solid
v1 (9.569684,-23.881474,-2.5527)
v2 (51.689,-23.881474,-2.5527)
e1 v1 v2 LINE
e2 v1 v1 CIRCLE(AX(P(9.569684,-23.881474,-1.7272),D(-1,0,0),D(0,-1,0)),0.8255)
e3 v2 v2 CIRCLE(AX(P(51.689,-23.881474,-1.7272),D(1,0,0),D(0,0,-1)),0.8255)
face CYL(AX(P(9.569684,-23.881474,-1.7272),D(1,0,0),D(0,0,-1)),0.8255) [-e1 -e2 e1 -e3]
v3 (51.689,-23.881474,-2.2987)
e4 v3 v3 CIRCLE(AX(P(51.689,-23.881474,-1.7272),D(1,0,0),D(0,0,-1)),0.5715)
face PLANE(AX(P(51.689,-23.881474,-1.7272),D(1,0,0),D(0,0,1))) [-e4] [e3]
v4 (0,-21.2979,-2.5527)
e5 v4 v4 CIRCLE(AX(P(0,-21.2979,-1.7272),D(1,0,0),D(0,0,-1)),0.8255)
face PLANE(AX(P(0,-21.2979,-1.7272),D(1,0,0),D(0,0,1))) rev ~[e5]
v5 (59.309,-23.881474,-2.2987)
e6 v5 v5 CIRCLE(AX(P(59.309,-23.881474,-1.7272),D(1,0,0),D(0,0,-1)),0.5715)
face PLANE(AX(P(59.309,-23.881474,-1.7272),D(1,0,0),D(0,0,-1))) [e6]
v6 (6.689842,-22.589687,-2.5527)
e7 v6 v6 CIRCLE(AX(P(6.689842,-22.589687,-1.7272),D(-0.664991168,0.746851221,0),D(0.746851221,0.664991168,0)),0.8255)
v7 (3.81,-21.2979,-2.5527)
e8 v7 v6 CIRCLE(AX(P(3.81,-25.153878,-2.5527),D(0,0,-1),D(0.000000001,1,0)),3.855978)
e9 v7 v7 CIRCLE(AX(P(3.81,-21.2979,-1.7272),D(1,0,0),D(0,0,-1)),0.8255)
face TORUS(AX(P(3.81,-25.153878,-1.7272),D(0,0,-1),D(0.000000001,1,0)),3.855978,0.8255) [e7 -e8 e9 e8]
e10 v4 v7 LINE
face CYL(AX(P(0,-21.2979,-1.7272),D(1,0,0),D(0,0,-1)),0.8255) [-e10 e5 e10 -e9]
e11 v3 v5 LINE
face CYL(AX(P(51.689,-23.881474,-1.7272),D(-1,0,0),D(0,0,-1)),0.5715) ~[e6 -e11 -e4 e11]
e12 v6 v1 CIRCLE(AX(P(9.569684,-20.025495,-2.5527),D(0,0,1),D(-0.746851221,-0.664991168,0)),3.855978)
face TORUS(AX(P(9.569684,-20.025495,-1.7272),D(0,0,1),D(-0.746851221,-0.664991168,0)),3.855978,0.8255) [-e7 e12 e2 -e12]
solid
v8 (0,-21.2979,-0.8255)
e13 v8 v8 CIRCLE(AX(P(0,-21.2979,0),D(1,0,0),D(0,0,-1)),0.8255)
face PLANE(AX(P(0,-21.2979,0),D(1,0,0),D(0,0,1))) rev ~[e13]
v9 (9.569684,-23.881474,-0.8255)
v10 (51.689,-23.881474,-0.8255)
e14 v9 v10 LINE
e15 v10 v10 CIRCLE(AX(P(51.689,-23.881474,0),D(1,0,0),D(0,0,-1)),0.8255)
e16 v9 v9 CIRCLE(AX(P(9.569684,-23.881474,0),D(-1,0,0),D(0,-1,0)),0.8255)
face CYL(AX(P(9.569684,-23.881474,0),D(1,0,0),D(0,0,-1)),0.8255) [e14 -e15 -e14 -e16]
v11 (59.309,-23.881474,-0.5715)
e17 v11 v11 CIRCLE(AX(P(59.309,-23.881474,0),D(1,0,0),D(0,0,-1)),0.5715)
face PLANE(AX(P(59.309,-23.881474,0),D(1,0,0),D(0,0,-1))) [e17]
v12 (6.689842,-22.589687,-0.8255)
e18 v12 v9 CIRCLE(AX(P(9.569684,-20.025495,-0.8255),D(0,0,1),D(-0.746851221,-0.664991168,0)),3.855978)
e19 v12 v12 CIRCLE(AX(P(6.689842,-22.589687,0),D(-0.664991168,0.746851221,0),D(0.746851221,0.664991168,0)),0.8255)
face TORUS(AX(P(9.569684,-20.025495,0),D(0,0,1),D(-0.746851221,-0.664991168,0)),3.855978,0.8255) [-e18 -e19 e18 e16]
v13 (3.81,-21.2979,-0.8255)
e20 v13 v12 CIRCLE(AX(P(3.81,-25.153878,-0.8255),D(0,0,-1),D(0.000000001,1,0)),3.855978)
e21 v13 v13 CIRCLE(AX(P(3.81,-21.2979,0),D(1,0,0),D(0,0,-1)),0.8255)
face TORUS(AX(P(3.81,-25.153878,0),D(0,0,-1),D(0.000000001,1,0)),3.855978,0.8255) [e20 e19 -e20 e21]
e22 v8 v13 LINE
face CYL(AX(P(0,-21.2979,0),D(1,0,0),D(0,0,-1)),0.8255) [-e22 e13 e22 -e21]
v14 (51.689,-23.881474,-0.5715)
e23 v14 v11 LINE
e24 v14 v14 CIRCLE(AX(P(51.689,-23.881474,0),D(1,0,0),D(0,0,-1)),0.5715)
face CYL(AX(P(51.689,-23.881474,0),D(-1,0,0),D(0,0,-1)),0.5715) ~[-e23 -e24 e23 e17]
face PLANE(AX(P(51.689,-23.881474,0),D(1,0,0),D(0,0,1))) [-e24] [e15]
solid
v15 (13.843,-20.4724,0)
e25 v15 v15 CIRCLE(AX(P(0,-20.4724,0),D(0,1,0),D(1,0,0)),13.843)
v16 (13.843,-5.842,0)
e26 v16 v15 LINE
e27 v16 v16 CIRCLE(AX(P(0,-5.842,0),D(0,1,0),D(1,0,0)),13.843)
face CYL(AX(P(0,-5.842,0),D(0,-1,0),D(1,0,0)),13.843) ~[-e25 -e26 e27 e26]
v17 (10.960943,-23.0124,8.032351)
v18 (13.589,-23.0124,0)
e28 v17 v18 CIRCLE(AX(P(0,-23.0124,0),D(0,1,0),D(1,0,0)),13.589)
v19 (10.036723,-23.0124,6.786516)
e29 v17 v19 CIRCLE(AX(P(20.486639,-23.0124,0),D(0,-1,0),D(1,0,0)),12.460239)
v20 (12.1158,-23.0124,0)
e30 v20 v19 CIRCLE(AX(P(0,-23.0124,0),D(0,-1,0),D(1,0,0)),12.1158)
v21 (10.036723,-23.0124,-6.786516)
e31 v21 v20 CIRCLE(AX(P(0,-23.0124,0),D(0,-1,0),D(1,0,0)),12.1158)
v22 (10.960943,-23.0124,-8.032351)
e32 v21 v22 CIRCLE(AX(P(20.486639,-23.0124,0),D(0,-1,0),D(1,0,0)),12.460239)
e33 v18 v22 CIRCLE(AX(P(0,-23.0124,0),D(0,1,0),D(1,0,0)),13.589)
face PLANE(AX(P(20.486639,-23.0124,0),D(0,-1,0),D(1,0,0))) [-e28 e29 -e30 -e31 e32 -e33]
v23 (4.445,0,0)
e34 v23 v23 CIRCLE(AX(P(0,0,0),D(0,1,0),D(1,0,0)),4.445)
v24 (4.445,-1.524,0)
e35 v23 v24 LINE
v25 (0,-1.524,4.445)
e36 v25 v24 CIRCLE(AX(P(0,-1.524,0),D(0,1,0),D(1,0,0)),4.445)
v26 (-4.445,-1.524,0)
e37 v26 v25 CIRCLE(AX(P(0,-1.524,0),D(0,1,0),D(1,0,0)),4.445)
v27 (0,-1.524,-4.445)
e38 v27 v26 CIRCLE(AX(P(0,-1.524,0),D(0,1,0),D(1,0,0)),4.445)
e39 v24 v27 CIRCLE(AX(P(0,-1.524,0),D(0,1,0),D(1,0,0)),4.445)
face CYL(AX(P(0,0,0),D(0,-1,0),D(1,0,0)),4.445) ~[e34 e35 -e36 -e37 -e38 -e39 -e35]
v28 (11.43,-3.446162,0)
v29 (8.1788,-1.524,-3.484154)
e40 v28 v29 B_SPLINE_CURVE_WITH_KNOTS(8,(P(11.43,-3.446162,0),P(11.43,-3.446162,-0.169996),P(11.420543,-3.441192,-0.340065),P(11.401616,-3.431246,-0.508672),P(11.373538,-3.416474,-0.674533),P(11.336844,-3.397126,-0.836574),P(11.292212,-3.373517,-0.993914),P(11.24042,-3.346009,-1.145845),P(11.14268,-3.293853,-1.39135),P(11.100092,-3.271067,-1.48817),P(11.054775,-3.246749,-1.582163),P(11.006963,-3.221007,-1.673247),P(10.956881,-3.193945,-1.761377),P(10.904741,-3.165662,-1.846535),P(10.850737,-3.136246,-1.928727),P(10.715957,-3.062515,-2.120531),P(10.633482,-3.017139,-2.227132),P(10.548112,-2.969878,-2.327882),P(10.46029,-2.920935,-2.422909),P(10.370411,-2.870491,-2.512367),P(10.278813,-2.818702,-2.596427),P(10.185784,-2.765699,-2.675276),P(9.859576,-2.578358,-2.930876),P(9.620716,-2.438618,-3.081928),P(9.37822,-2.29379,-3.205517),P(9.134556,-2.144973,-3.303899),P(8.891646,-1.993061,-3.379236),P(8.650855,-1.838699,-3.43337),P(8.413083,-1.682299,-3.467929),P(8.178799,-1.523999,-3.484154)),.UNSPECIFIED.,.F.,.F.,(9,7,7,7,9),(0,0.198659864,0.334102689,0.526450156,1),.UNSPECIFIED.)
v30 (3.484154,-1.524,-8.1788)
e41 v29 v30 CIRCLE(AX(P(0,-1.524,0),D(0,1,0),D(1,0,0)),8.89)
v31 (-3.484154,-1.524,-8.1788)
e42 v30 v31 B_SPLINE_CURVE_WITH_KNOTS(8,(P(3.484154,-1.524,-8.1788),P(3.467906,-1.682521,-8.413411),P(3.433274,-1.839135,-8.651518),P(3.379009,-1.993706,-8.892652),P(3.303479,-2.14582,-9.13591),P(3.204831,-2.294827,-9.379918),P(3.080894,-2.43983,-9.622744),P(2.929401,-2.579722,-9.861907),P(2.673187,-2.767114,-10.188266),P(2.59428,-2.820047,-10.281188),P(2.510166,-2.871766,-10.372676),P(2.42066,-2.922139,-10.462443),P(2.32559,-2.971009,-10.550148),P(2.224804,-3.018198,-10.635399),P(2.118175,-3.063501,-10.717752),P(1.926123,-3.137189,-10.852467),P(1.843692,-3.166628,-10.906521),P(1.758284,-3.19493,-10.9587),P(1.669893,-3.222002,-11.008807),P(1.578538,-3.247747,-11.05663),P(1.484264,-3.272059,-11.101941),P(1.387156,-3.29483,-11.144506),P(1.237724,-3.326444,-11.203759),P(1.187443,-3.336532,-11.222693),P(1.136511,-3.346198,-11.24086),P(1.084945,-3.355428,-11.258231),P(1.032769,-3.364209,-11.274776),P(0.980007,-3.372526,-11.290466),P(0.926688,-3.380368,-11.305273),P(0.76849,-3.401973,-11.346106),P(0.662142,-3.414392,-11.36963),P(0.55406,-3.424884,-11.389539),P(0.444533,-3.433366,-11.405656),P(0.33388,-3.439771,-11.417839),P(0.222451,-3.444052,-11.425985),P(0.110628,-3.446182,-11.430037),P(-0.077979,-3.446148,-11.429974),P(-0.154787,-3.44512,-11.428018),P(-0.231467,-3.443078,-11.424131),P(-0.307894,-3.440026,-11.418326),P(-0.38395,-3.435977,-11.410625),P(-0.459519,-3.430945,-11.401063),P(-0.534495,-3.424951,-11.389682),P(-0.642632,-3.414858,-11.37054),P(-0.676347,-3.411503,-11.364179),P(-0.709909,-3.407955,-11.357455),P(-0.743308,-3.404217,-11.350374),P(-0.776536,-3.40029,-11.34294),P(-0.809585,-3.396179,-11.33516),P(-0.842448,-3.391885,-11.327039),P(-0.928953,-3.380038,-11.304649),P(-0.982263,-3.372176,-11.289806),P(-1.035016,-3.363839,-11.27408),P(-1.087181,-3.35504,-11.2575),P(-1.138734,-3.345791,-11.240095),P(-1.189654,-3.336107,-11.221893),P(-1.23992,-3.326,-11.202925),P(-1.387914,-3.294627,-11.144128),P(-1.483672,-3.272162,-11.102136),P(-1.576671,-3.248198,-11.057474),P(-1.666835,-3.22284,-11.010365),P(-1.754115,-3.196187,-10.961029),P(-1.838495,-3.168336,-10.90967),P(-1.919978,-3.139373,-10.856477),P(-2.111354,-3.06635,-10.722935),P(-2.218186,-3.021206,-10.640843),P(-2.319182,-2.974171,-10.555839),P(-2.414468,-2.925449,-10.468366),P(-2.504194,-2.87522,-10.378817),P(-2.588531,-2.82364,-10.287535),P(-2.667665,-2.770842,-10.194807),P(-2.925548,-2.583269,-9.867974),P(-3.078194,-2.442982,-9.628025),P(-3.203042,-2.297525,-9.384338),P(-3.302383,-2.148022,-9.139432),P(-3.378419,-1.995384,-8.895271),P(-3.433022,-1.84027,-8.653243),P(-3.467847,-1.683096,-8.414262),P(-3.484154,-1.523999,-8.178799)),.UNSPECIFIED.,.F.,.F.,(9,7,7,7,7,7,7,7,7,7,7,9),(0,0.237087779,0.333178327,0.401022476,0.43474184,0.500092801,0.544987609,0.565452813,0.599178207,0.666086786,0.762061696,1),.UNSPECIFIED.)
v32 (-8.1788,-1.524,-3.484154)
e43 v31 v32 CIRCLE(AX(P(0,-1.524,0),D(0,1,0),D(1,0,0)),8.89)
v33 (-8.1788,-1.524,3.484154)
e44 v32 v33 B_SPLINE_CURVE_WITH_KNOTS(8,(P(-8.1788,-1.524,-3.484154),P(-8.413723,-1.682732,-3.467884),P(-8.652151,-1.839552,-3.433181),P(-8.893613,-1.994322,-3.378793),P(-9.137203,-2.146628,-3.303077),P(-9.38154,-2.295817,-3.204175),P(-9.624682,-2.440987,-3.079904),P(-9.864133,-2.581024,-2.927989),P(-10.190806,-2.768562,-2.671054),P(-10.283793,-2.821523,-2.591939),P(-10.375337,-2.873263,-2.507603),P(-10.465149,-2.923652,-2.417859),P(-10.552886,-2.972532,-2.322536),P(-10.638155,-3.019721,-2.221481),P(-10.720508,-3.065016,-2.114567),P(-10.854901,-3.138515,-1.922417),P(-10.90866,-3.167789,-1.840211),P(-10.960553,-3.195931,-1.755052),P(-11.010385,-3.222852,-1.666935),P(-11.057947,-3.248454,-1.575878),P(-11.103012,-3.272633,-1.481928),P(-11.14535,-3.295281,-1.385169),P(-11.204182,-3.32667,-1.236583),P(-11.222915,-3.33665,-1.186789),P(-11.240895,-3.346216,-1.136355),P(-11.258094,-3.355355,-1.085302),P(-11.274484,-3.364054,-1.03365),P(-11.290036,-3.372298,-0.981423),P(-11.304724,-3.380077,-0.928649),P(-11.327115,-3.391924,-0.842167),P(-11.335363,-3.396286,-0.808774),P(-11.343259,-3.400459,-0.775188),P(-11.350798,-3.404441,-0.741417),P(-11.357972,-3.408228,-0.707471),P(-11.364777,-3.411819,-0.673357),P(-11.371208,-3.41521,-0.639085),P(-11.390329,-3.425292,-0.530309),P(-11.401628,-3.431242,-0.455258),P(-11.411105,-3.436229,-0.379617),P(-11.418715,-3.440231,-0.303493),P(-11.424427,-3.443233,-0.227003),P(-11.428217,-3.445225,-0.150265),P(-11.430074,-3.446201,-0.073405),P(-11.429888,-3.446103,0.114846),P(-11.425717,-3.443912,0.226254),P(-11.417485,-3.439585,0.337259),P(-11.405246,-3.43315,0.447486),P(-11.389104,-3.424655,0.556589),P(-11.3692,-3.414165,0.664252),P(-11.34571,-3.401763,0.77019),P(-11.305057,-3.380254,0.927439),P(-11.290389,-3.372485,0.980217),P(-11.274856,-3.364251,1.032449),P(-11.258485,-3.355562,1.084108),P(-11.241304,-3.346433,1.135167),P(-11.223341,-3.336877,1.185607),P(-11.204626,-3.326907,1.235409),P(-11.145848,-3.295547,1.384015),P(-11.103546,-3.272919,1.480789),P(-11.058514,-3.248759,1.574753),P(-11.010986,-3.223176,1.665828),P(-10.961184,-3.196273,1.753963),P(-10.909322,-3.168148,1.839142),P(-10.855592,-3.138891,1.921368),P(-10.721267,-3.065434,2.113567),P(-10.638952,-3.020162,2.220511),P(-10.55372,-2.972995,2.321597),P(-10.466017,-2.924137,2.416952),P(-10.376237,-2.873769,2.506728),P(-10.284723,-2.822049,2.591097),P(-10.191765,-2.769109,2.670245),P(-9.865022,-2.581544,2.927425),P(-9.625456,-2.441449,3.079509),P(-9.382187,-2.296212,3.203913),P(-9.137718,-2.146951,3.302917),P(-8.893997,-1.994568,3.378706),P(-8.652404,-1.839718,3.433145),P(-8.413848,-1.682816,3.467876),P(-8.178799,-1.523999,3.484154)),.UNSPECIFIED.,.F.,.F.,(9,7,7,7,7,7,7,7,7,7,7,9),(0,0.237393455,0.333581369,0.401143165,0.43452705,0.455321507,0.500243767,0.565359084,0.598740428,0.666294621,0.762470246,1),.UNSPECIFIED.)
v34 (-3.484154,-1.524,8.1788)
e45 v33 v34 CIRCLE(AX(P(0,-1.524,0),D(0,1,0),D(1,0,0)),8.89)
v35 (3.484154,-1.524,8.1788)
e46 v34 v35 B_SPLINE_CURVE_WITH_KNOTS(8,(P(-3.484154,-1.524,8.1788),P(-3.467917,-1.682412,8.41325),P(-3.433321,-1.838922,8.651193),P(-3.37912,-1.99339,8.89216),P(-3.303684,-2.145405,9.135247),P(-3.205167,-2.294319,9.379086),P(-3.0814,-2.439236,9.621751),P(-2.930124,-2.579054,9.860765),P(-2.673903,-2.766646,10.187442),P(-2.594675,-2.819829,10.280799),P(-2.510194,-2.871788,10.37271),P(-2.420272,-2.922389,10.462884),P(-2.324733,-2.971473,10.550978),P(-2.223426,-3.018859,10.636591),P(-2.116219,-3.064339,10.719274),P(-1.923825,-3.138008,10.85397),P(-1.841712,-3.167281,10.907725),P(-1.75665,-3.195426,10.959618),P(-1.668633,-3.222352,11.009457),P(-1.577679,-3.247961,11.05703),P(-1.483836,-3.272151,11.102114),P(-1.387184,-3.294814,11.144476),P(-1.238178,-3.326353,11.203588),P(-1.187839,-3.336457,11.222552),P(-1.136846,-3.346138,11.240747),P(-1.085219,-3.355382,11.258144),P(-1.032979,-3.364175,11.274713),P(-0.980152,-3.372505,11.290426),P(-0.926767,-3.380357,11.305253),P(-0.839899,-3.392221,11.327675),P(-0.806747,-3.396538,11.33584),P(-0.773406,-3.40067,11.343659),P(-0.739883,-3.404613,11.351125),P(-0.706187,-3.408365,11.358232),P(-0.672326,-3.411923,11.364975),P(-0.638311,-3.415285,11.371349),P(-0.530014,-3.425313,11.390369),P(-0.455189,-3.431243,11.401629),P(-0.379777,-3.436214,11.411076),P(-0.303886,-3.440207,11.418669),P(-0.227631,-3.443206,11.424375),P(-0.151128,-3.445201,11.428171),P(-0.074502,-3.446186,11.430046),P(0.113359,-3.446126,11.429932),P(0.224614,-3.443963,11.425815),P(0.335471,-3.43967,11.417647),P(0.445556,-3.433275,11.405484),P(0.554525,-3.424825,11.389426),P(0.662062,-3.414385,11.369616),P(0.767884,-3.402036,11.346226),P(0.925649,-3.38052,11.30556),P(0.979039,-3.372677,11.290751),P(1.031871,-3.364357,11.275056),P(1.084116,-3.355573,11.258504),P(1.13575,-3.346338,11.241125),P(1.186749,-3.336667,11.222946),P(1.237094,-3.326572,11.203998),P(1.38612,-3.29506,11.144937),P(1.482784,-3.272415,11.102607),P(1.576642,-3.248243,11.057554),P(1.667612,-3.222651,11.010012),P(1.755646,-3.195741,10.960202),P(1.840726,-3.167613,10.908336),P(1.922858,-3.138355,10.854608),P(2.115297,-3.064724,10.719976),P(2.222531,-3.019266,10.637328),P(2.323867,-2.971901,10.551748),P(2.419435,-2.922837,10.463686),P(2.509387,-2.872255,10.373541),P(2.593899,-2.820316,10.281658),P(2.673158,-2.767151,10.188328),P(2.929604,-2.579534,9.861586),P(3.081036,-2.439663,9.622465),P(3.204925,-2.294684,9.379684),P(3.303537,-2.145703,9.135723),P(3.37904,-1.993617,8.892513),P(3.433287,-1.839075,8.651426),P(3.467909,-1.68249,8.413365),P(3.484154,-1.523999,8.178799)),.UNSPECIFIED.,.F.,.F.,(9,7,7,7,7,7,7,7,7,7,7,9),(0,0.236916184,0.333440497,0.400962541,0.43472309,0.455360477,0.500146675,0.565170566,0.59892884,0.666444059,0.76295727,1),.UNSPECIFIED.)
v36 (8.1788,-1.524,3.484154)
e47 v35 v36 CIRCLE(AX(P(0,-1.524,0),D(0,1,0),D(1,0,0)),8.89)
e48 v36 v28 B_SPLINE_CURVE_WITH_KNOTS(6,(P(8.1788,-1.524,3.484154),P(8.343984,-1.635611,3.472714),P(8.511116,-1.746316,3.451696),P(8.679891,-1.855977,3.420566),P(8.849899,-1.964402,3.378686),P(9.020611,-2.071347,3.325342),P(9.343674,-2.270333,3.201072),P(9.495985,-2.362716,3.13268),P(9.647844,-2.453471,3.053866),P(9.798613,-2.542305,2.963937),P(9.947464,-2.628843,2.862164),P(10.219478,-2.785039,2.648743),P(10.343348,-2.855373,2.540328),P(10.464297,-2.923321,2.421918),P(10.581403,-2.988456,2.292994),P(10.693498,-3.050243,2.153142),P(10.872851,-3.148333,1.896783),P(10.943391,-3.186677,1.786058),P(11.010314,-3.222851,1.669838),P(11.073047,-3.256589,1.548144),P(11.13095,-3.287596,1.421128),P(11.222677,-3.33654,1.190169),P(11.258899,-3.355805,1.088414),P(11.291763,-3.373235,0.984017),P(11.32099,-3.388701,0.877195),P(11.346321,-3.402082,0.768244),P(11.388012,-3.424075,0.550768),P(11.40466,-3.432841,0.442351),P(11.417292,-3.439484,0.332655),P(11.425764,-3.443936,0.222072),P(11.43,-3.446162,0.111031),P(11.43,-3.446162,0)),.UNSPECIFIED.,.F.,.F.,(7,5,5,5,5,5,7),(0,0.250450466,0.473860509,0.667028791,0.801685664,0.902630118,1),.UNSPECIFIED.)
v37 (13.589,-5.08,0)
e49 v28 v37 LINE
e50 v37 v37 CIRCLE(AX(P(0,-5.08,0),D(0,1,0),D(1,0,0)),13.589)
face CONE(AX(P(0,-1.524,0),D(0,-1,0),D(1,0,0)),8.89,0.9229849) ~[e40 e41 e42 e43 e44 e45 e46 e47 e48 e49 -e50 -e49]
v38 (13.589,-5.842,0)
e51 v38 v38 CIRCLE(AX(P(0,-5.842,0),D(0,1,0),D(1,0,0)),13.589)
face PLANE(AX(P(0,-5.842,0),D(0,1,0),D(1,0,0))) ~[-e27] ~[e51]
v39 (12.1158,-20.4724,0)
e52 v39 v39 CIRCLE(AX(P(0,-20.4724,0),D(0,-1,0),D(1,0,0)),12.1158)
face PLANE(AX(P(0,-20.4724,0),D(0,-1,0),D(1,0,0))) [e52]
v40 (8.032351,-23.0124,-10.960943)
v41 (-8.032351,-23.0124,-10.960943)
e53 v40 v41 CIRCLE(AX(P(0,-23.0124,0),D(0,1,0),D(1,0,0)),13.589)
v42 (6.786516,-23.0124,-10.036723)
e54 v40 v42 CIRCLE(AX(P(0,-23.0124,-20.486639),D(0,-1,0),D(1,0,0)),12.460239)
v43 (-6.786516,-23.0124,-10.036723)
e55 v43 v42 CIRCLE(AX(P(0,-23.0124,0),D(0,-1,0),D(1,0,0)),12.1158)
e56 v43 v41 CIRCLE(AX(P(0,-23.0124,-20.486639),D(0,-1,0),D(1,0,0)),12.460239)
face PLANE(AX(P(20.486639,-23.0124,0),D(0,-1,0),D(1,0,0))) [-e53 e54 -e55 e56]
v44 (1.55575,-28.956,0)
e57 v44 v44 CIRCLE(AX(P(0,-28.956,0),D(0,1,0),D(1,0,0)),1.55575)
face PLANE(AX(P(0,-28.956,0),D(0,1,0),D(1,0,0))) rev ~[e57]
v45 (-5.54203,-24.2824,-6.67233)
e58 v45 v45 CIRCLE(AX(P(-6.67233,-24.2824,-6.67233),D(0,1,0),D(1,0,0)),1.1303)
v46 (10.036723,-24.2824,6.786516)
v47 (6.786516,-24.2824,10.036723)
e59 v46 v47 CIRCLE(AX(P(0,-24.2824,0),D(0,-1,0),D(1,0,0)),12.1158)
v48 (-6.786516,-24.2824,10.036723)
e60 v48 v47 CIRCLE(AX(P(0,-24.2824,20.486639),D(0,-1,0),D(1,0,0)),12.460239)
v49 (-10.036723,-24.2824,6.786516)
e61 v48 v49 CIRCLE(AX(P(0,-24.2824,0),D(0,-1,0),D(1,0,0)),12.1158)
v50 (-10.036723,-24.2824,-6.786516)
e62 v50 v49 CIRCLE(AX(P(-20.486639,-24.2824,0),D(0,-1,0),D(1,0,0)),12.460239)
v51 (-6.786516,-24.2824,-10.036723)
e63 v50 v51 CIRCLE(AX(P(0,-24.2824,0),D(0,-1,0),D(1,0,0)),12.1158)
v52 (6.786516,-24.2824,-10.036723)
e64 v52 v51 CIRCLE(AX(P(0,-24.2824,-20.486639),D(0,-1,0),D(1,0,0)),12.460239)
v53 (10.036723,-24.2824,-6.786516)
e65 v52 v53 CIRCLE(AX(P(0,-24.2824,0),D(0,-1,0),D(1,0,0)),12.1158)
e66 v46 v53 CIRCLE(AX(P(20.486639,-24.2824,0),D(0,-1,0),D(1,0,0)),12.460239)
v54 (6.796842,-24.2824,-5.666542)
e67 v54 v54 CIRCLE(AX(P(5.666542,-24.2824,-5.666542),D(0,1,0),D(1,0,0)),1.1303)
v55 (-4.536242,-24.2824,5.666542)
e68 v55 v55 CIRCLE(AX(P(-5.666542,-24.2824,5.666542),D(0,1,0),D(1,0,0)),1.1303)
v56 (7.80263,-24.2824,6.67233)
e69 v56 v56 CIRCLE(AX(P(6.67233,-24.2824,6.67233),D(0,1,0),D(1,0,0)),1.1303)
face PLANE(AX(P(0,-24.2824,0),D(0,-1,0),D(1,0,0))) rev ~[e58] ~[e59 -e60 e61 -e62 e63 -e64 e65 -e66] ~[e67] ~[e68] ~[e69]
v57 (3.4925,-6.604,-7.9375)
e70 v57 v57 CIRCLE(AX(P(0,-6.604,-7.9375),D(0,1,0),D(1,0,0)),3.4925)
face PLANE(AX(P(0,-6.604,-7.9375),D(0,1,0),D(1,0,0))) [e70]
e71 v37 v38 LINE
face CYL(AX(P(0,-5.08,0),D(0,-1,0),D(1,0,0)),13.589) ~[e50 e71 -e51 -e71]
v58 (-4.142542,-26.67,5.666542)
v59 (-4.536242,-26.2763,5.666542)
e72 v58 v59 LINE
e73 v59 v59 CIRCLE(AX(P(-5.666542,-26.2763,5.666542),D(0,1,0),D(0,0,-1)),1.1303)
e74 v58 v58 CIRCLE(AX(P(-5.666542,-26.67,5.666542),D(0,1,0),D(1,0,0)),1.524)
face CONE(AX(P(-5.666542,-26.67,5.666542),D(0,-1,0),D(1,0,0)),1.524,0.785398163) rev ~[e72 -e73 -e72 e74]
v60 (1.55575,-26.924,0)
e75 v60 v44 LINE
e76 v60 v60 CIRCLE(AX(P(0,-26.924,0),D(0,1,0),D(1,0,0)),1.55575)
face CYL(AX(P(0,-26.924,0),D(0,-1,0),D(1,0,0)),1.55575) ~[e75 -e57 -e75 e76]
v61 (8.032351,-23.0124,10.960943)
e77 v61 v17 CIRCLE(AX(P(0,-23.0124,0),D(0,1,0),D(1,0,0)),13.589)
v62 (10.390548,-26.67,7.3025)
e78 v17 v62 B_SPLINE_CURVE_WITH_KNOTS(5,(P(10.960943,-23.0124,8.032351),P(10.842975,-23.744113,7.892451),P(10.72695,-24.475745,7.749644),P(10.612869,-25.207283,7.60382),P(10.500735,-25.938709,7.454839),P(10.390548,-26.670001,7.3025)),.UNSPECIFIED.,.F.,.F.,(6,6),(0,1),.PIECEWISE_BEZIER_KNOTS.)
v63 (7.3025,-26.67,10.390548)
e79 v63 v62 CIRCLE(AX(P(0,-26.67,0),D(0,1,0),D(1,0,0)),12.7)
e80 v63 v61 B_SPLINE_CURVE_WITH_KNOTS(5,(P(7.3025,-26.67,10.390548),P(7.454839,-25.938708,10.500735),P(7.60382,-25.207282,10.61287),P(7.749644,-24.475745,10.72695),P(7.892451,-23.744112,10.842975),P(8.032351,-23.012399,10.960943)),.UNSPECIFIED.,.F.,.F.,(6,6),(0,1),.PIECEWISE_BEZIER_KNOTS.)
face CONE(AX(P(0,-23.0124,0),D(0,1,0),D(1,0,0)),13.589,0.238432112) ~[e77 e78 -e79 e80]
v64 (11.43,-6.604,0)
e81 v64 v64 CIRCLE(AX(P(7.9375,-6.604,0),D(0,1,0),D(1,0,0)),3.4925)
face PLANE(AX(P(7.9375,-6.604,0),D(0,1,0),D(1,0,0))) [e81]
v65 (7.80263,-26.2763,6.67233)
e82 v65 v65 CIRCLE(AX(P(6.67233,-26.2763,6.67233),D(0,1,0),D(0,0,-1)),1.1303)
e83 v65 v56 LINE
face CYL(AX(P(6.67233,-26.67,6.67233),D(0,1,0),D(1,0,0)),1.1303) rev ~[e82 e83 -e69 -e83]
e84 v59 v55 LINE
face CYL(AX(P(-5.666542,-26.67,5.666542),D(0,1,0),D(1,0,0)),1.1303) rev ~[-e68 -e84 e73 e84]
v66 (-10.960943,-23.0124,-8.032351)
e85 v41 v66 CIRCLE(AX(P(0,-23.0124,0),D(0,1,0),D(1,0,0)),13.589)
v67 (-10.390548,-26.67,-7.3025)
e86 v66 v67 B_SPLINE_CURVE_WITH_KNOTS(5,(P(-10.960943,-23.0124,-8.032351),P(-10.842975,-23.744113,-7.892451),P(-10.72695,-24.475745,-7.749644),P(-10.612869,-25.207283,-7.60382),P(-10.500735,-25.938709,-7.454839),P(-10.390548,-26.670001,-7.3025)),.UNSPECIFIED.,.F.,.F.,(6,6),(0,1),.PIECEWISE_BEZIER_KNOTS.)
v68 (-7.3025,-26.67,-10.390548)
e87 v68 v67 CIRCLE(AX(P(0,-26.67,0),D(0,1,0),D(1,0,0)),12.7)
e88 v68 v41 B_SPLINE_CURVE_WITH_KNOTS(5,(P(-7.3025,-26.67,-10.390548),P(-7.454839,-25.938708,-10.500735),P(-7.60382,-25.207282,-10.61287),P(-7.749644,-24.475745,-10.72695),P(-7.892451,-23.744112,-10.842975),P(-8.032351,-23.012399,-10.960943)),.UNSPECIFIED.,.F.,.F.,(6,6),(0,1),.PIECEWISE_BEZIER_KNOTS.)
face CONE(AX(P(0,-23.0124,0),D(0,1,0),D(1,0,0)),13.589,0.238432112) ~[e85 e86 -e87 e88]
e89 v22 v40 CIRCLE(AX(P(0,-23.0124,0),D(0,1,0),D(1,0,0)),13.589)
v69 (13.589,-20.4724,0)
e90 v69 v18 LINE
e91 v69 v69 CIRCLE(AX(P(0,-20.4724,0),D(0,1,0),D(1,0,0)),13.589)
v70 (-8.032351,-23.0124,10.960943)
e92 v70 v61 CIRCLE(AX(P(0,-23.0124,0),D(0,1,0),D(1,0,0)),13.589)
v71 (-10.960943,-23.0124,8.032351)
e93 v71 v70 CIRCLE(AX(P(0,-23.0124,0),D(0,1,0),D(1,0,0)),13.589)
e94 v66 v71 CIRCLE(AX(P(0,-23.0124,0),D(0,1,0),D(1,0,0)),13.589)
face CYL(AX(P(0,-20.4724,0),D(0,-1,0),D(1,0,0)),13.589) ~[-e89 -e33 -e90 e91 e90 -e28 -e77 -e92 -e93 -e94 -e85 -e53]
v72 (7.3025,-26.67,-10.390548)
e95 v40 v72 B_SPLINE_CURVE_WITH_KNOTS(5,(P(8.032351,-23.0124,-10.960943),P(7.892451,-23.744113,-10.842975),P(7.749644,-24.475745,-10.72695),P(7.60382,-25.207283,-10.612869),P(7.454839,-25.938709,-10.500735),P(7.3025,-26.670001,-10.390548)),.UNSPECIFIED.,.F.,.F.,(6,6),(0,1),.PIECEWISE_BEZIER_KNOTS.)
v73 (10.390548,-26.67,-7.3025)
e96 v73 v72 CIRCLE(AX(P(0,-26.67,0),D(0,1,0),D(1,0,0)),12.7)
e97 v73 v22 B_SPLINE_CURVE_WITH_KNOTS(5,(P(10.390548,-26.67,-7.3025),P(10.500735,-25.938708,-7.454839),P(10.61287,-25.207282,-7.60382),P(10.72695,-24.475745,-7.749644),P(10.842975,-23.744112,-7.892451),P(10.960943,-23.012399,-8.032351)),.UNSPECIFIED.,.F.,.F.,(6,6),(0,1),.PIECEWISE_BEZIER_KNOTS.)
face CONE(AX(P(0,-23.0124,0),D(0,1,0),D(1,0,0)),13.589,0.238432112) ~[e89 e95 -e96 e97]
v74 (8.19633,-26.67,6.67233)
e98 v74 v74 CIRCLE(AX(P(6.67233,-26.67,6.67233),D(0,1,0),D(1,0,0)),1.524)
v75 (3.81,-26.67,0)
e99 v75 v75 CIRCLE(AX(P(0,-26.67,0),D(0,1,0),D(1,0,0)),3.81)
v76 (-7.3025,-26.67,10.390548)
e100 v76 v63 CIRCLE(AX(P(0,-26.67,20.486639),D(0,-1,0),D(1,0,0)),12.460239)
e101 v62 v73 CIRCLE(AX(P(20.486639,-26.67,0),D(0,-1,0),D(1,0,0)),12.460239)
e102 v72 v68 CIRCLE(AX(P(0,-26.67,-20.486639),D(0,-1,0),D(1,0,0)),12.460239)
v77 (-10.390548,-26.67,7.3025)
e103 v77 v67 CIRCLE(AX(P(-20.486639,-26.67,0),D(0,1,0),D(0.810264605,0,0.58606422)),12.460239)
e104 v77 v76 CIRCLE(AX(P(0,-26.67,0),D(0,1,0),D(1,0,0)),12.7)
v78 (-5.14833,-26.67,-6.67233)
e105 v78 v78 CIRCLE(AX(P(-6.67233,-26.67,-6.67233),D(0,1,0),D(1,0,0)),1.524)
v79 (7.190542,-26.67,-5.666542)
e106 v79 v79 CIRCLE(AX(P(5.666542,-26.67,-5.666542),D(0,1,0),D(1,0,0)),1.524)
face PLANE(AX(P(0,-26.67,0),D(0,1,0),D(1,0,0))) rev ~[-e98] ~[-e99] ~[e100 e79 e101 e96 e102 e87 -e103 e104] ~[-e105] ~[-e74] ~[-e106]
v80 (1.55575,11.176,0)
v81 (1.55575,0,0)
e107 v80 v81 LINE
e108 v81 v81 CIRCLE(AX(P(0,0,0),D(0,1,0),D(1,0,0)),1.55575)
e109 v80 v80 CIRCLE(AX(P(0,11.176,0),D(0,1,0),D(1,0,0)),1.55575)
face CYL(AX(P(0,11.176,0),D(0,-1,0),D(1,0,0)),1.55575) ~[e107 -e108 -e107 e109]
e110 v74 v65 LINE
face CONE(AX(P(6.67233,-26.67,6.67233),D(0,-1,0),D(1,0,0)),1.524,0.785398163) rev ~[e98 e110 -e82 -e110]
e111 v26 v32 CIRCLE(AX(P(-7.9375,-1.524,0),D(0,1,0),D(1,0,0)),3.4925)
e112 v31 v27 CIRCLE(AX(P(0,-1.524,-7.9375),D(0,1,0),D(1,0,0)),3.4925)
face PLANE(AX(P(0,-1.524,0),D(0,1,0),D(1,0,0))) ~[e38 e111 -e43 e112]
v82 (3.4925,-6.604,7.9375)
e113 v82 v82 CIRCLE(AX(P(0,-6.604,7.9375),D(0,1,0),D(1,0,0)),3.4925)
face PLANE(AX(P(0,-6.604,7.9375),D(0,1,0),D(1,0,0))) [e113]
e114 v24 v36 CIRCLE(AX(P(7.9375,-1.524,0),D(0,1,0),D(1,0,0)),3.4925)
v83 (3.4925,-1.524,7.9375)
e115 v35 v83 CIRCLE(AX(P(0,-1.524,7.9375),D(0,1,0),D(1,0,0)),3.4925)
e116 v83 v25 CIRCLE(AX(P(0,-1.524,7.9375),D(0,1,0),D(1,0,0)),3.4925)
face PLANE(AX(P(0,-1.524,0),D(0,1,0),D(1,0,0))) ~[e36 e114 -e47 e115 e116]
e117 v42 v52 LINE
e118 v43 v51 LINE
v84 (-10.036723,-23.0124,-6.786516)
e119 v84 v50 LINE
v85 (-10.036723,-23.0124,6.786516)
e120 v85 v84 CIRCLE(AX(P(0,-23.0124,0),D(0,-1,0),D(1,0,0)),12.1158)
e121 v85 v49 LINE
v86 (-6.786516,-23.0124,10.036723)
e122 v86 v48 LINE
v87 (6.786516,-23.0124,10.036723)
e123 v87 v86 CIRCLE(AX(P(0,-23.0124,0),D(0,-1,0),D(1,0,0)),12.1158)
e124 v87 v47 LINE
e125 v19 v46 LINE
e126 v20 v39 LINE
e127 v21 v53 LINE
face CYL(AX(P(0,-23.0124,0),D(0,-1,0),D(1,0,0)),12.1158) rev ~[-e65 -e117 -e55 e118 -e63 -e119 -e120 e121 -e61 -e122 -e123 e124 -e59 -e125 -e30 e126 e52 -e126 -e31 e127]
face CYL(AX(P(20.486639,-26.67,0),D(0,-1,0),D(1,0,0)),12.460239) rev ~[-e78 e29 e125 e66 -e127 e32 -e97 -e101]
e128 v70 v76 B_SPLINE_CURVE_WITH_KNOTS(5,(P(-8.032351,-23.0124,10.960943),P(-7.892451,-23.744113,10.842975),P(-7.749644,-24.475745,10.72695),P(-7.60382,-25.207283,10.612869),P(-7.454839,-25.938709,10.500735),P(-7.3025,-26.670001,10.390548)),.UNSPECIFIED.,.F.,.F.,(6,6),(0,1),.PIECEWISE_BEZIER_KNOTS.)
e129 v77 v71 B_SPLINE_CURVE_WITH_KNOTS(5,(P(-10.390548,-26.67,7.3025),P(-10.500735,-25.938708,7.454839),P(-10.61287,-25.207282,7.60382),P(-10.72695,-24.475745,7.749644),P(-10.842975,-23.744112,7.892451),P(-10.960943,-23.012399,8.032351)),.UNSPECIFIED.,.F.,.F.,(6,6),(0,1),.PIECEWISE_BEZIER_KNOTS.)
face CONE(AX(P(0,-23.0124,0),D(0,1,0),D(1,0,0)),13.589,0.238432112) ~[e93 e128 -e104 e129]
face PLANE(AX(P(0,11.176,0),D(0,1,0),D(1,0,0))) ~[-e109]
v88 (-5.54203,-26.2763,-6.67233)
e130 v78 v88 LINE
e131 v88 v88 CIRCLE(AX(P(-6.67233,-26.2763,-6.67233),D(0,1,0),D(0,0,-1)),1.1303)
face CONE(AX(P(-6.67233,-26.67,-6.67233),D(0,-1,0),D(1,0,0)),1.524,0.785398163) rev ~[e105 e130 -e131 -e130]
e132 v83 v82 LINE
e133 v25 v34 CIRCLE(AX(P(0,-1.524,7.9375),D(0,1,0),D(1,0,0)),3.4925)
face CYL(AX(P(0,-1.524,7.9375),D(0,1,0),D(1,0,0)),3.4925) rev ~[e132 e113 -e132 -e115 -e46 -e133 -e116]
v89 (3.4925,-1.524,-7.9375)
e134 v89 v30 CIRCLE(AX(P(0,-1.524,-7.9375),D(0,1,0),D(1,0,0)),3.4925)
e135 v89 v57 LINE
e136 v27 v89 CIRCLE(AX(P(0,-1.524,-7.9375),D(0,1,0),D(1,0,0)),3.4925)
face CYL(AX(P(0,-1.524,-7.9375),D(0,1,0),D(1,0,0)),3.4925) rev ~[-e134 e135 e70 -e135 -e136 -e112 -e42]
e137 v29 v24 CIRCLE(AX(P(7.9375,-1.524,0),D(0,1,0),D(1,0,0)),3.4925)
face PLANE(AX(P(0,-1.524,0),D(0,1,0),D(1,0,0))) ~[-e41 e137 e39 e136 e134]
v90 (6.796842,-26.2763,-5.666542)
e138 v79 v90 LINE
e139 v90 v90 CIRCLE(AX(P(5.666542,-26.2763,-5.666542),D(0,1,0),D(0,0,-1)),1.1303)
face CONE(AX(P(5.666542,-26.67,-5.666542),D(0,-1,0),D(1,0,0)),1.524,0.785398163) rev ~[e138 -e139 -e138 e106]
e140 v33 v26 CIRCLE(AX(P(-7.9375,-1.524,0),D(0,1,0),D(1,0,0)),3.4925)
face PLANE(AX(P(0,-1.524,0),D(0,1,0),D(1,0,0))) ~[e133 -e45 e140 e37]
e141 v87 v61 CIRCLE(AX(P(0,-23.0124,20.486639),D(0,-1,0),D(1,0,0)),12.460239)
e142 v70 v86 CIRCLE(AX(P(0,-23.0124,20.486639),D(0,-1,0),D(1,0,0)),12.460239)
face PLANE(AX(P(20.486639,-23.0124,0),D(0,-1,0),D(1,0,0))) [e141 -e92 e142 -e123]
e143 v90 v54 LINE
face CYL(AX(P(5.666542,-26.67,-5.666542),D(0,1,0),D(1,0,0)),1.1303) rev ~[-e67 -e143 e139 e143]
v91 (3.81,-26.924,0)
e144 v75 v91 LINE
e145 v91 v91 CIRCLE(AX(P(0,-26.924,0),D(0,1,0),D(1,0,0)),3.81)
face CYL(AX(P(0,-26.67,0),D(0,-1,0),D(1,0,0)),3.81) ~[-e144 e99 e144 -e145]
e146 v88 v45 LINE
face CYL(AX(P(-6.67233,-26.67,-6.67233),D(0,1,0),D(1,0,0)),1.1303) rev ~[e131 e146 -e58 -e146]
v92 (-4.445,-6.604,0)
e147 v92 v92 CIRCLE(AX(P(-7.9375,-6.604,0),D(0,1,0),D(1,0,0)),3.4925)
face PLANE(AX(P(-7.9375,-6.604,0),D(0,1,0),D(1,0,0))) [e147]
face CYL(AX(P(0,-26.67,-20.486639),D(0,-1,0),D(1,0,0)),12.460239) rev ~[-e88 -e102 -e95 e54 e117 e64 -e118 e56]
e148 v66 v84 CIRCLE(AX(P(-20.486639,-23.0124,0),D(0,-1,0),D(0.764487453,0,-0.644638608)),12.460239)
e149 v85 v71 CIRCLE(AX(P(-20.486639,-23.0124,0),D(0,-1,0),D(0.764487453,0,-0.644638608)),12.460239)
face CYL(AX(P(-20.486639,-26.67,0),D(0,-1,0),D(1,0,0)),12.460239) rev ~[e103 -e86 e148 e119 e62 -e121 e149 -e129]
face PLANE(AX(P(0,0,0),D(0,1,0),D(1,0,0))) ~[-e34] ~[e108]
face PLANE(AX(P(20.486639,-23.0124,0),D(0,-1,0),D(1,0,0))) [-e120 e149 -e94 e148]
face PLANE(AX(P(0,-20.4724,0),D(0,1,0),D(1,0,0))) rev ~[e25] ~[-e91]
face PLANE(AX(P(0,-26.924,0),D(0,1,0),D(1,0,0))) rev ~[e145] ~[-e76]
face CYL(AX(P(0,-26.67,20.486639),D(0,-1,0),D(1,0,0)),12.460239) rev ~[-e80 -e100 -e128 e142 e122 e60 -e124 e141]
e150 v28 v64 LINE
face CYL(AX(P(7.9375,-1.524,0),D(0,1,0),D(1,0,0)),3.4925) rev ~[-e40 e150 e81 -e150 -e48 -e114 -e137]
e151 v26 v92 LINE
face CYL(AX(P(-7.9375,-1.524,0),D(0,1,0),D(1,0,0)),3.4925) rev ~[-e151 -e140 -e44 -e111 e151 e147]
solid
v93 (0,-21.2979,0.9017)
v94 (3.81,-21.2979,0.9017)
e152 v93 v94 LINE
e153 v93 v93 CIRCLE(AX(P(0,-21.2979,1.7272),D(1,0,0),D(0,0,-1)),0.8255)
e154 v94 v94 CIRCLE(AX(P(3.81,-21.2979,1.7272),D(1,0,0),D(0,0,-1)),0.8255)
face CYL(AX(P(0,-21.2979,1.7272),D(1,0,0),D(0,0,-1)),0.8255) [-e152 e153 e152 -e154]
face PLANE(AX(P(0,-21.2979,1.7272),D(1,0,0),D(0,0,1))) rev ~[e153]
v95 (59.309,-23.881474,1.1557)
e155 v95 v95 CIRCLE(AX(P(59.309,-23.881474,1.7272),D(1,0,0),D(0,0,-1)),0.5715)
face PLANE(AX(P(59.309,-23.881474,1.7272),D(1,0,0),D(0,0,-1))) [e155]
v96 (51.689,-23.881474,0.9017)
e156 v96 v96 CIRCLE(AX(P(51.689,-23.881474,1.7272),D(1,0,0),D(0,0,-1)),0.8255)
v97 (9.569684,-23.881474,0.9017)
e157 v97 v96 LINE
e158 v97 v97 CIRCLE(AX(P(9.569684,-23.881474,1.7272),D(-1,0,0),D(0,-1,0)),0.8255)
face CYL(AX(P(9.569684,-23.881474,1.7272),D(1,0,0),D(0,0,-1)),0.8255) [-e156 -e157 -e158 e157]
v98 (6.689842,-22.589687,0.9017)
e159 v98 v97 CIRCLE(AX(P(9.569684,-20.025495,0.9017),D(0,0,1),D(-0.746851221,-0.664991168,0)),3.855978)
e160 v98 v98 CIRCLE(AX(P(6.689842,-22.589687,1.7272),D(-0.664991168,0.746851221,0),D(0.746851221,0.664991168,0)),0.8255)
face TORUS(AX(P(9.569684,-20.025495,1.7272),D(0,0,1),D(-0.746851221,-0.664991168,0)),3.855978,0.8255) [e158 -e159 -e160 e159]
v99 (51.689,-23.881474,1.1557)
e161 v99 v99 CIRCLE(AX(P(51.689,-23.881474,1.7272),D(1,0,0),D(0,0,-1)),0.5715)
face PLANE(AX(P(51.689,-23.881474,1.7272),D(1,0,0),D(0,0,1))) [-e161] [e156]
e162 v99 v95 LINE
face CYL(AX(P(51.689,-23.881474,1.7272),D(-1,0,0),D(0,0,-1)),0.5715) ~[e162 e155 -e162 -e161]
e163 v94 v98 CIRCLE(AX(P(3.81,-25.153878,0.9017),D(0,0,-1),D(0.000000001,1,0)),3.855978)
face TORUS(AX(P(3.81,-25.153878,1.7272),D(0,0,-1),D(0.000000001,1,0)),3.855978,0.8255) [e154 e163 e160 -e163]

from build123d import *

# Parameters (mm, degrees)
SKETCH2_R                       = 3.4925
CUT_EXTRUDE1_DEPTH              = 5.08
SKETCH3_R                       = 12.460238567
CUT_EXTRUDE2_DEPTH              = 3.6576
SKETCH4_R                       = 12.1158
CUT_EXTRUDE3_DEPTH              = 1.27
CUT_EXTRUDE3_DEPTH_BACK         = 2.54
F_4_40_TAPPED_HOLE1_D           = 2.2606
F_4_40_TAPPED_HOLE1_DEPTH       = 2.54
F_4_40_TAPPED_HOLE1_CSINK_D     = 3.048
F_4_40_TAPPED_HOLE1_CSINK_ANGLE = 90
F_4_40_TAPPED_HOLE1_TIP         = 0.679152758
SKETCH10_R                      = 0.8255
SKETCH13_R                      = 0.5715
BOSS_EXTRUDE1_DEPTH             = 7.62


with BuildPart() as part:
    # Sketch1 → Revolve1 (revolve)
    with BuildSketch(Plane.XY):
        Polygon((0, 11.176), (1.55575, 11.176), (1.55575, 0), (4.445, 0), (4.445, -1.524), (8.89, -1.524), (13.589, -5.08), (13.589, -5.842), (13.843, -5.842), (13.843, -20.4724), (13.589, -20.4724), (13.589, -23.0124), (12.7, -26.67), (3.81, -26.67), (3.81, -26.924), (1.55575, -26.924), (1.55575, -28.956), (0, -28.956), align=None)
    revolve(axis=Axis((0, -28.956, 0), (0, 1, 0)))

    # Sketch2 → Cut-Extrude1 (cut)
    with BuildSketch(Plane(origin=(0, -1.524, 0), x_dir=(1, 0, 0), z_dir=(0, 1, 0))):
        with Locations((0, 7.9375)):
            Circle(SKETCH2_R)
        with Locations((7.9375, 0)):
            Circle(SKETCH2_R)
        with Locations((0, -7.9375)):
            Circle(SKETCH2_R)
        with Locations((-7.9375, 0)):
            Circle(SKETCH2_R)
    extrude(amount=-CUT_EXTRUDE1_DEPTH, mode=Mode.SUBTRACT)

    # Sketch3 → Cut-Extrude2 (cut)
    with BuildSketch(Plane.XZ.offset(26.67)):
        with Locations((0, 20.486638567)):
            Circle(SKETCH3_R)
        with Locations((-20.486638567, 0)):
            Circle(SKETCH3_R)
        with Locations((0, -20.486638567)):
            Circle(SKETCH3_R)
        with Locations((20.486638567, 0)):
            Circle(SKETCH3_R)
    extrude(amount=-CUT_EXTRUDE2_DEPTH, mode=Mode.SUBTRACT)

    # Sketch4 → Cut-Extrude3 (cut, two sides)
    with BuildSketch(Plane.XZ.offset(23.0124)) as cut_extrude3_sk:
        Circle(SKETCH4_R)
    extrude(amount=CUT_EXTRUDE3_DEPTH, mode=Mode.SUBTRACT)
    extrude(cut_extrude3_sk.sketch, amount=-CUT_EXTRUDE3_DEPTH_BACK, mode=Mode.SUBTRACT)

    # #4-40 Tapped Hole1
    with Locations(Plane(origin=(0, -26.67, 0), x_dir=(-1, 0, 0), z_dir=(0, -1, 0))):
        with Locations((5.666541612, -5.666541612), (-6.672330298, -6.672330298), (-5.666541612, 5.666541612), (6.672330298, 6.672330298)):
            CounterSinkHole(F_4_40_TAPPED_HOLE1_D / 2, F_4_40_TAPPED_HOLE1_CSINK_D / 2, depth=F_4_40_TAPPED_HOLE1_DEPTH, counter_sink_angle=F_4_40_TAPPED_HOLE1_CSINK_ANGLE)
            with Locations((0, 0, -(F_4_40_TAPPED_HOLE1_DEPTH + F_4_40_TAPPED_HOLE1_TIP / 2))):  # 118° drill point
                Cone(0, F_4_40_TAPPED_HOLE1_D / 2, F_4_40_TAPPED_HOLE1_TIP, mode=Mode.SUBTRACT)


with BuildPart() as body_2:
    # Sweep1: sweep along a path in Sketch12
    with BuildLine(Plane.XY) as sweep1_path:
        Line((0, -21.2979), (3.81, -21.2979))
        ThreePointArc((3.81, -21.2979), (5.388147914, -21.635637579), (6.689842062, -22.589686769))
        ThreePointArc((6.689842062, -22.589686769), (7.991536209, -23.543735959), (9.569684124, -23.881473538))
        Line((9.569684124, -23.881473538), (51.689, -23.881473538))
    # Sketch10 → Sweep1 (sweep)
    with BuildSketch(Plane(origin=(0, 0, 0), x_dir=(0, 0, -1), z_dir=(1, 0, 0))):
        with Locations((0, -21.2979)):
            Circle(SKETCH10_R)
        with Locations((-1.7272, -21.2979)):
            Circle(SKETCH10_R)
        with Locations((1.7272, -21.2979)):
            Circle(SKETCH10_R)
    sweep(path=sweep1_path.line)

    # Sketch13 → Boss-Extrude1 (add)
    with BuildSketch(Plane(origin=(51.689, 0, 0), x_dir=(0, 0, -1), z_dir=(1, 0, 0))):
        with Locations((1.7272, -23.881473538)):
            Circle(SKETCH13_R)
        with Locations((0, -23.881473538)):
            Circle(SKETCH13_R)
        with Locations((-1.7272, -23.881473538)):
            Circle(SKETCH13_R)
    extrude(amount=BOSS_EXTRUDE1_DEPTH)


solid = Compound([part.part, body_2.part])
